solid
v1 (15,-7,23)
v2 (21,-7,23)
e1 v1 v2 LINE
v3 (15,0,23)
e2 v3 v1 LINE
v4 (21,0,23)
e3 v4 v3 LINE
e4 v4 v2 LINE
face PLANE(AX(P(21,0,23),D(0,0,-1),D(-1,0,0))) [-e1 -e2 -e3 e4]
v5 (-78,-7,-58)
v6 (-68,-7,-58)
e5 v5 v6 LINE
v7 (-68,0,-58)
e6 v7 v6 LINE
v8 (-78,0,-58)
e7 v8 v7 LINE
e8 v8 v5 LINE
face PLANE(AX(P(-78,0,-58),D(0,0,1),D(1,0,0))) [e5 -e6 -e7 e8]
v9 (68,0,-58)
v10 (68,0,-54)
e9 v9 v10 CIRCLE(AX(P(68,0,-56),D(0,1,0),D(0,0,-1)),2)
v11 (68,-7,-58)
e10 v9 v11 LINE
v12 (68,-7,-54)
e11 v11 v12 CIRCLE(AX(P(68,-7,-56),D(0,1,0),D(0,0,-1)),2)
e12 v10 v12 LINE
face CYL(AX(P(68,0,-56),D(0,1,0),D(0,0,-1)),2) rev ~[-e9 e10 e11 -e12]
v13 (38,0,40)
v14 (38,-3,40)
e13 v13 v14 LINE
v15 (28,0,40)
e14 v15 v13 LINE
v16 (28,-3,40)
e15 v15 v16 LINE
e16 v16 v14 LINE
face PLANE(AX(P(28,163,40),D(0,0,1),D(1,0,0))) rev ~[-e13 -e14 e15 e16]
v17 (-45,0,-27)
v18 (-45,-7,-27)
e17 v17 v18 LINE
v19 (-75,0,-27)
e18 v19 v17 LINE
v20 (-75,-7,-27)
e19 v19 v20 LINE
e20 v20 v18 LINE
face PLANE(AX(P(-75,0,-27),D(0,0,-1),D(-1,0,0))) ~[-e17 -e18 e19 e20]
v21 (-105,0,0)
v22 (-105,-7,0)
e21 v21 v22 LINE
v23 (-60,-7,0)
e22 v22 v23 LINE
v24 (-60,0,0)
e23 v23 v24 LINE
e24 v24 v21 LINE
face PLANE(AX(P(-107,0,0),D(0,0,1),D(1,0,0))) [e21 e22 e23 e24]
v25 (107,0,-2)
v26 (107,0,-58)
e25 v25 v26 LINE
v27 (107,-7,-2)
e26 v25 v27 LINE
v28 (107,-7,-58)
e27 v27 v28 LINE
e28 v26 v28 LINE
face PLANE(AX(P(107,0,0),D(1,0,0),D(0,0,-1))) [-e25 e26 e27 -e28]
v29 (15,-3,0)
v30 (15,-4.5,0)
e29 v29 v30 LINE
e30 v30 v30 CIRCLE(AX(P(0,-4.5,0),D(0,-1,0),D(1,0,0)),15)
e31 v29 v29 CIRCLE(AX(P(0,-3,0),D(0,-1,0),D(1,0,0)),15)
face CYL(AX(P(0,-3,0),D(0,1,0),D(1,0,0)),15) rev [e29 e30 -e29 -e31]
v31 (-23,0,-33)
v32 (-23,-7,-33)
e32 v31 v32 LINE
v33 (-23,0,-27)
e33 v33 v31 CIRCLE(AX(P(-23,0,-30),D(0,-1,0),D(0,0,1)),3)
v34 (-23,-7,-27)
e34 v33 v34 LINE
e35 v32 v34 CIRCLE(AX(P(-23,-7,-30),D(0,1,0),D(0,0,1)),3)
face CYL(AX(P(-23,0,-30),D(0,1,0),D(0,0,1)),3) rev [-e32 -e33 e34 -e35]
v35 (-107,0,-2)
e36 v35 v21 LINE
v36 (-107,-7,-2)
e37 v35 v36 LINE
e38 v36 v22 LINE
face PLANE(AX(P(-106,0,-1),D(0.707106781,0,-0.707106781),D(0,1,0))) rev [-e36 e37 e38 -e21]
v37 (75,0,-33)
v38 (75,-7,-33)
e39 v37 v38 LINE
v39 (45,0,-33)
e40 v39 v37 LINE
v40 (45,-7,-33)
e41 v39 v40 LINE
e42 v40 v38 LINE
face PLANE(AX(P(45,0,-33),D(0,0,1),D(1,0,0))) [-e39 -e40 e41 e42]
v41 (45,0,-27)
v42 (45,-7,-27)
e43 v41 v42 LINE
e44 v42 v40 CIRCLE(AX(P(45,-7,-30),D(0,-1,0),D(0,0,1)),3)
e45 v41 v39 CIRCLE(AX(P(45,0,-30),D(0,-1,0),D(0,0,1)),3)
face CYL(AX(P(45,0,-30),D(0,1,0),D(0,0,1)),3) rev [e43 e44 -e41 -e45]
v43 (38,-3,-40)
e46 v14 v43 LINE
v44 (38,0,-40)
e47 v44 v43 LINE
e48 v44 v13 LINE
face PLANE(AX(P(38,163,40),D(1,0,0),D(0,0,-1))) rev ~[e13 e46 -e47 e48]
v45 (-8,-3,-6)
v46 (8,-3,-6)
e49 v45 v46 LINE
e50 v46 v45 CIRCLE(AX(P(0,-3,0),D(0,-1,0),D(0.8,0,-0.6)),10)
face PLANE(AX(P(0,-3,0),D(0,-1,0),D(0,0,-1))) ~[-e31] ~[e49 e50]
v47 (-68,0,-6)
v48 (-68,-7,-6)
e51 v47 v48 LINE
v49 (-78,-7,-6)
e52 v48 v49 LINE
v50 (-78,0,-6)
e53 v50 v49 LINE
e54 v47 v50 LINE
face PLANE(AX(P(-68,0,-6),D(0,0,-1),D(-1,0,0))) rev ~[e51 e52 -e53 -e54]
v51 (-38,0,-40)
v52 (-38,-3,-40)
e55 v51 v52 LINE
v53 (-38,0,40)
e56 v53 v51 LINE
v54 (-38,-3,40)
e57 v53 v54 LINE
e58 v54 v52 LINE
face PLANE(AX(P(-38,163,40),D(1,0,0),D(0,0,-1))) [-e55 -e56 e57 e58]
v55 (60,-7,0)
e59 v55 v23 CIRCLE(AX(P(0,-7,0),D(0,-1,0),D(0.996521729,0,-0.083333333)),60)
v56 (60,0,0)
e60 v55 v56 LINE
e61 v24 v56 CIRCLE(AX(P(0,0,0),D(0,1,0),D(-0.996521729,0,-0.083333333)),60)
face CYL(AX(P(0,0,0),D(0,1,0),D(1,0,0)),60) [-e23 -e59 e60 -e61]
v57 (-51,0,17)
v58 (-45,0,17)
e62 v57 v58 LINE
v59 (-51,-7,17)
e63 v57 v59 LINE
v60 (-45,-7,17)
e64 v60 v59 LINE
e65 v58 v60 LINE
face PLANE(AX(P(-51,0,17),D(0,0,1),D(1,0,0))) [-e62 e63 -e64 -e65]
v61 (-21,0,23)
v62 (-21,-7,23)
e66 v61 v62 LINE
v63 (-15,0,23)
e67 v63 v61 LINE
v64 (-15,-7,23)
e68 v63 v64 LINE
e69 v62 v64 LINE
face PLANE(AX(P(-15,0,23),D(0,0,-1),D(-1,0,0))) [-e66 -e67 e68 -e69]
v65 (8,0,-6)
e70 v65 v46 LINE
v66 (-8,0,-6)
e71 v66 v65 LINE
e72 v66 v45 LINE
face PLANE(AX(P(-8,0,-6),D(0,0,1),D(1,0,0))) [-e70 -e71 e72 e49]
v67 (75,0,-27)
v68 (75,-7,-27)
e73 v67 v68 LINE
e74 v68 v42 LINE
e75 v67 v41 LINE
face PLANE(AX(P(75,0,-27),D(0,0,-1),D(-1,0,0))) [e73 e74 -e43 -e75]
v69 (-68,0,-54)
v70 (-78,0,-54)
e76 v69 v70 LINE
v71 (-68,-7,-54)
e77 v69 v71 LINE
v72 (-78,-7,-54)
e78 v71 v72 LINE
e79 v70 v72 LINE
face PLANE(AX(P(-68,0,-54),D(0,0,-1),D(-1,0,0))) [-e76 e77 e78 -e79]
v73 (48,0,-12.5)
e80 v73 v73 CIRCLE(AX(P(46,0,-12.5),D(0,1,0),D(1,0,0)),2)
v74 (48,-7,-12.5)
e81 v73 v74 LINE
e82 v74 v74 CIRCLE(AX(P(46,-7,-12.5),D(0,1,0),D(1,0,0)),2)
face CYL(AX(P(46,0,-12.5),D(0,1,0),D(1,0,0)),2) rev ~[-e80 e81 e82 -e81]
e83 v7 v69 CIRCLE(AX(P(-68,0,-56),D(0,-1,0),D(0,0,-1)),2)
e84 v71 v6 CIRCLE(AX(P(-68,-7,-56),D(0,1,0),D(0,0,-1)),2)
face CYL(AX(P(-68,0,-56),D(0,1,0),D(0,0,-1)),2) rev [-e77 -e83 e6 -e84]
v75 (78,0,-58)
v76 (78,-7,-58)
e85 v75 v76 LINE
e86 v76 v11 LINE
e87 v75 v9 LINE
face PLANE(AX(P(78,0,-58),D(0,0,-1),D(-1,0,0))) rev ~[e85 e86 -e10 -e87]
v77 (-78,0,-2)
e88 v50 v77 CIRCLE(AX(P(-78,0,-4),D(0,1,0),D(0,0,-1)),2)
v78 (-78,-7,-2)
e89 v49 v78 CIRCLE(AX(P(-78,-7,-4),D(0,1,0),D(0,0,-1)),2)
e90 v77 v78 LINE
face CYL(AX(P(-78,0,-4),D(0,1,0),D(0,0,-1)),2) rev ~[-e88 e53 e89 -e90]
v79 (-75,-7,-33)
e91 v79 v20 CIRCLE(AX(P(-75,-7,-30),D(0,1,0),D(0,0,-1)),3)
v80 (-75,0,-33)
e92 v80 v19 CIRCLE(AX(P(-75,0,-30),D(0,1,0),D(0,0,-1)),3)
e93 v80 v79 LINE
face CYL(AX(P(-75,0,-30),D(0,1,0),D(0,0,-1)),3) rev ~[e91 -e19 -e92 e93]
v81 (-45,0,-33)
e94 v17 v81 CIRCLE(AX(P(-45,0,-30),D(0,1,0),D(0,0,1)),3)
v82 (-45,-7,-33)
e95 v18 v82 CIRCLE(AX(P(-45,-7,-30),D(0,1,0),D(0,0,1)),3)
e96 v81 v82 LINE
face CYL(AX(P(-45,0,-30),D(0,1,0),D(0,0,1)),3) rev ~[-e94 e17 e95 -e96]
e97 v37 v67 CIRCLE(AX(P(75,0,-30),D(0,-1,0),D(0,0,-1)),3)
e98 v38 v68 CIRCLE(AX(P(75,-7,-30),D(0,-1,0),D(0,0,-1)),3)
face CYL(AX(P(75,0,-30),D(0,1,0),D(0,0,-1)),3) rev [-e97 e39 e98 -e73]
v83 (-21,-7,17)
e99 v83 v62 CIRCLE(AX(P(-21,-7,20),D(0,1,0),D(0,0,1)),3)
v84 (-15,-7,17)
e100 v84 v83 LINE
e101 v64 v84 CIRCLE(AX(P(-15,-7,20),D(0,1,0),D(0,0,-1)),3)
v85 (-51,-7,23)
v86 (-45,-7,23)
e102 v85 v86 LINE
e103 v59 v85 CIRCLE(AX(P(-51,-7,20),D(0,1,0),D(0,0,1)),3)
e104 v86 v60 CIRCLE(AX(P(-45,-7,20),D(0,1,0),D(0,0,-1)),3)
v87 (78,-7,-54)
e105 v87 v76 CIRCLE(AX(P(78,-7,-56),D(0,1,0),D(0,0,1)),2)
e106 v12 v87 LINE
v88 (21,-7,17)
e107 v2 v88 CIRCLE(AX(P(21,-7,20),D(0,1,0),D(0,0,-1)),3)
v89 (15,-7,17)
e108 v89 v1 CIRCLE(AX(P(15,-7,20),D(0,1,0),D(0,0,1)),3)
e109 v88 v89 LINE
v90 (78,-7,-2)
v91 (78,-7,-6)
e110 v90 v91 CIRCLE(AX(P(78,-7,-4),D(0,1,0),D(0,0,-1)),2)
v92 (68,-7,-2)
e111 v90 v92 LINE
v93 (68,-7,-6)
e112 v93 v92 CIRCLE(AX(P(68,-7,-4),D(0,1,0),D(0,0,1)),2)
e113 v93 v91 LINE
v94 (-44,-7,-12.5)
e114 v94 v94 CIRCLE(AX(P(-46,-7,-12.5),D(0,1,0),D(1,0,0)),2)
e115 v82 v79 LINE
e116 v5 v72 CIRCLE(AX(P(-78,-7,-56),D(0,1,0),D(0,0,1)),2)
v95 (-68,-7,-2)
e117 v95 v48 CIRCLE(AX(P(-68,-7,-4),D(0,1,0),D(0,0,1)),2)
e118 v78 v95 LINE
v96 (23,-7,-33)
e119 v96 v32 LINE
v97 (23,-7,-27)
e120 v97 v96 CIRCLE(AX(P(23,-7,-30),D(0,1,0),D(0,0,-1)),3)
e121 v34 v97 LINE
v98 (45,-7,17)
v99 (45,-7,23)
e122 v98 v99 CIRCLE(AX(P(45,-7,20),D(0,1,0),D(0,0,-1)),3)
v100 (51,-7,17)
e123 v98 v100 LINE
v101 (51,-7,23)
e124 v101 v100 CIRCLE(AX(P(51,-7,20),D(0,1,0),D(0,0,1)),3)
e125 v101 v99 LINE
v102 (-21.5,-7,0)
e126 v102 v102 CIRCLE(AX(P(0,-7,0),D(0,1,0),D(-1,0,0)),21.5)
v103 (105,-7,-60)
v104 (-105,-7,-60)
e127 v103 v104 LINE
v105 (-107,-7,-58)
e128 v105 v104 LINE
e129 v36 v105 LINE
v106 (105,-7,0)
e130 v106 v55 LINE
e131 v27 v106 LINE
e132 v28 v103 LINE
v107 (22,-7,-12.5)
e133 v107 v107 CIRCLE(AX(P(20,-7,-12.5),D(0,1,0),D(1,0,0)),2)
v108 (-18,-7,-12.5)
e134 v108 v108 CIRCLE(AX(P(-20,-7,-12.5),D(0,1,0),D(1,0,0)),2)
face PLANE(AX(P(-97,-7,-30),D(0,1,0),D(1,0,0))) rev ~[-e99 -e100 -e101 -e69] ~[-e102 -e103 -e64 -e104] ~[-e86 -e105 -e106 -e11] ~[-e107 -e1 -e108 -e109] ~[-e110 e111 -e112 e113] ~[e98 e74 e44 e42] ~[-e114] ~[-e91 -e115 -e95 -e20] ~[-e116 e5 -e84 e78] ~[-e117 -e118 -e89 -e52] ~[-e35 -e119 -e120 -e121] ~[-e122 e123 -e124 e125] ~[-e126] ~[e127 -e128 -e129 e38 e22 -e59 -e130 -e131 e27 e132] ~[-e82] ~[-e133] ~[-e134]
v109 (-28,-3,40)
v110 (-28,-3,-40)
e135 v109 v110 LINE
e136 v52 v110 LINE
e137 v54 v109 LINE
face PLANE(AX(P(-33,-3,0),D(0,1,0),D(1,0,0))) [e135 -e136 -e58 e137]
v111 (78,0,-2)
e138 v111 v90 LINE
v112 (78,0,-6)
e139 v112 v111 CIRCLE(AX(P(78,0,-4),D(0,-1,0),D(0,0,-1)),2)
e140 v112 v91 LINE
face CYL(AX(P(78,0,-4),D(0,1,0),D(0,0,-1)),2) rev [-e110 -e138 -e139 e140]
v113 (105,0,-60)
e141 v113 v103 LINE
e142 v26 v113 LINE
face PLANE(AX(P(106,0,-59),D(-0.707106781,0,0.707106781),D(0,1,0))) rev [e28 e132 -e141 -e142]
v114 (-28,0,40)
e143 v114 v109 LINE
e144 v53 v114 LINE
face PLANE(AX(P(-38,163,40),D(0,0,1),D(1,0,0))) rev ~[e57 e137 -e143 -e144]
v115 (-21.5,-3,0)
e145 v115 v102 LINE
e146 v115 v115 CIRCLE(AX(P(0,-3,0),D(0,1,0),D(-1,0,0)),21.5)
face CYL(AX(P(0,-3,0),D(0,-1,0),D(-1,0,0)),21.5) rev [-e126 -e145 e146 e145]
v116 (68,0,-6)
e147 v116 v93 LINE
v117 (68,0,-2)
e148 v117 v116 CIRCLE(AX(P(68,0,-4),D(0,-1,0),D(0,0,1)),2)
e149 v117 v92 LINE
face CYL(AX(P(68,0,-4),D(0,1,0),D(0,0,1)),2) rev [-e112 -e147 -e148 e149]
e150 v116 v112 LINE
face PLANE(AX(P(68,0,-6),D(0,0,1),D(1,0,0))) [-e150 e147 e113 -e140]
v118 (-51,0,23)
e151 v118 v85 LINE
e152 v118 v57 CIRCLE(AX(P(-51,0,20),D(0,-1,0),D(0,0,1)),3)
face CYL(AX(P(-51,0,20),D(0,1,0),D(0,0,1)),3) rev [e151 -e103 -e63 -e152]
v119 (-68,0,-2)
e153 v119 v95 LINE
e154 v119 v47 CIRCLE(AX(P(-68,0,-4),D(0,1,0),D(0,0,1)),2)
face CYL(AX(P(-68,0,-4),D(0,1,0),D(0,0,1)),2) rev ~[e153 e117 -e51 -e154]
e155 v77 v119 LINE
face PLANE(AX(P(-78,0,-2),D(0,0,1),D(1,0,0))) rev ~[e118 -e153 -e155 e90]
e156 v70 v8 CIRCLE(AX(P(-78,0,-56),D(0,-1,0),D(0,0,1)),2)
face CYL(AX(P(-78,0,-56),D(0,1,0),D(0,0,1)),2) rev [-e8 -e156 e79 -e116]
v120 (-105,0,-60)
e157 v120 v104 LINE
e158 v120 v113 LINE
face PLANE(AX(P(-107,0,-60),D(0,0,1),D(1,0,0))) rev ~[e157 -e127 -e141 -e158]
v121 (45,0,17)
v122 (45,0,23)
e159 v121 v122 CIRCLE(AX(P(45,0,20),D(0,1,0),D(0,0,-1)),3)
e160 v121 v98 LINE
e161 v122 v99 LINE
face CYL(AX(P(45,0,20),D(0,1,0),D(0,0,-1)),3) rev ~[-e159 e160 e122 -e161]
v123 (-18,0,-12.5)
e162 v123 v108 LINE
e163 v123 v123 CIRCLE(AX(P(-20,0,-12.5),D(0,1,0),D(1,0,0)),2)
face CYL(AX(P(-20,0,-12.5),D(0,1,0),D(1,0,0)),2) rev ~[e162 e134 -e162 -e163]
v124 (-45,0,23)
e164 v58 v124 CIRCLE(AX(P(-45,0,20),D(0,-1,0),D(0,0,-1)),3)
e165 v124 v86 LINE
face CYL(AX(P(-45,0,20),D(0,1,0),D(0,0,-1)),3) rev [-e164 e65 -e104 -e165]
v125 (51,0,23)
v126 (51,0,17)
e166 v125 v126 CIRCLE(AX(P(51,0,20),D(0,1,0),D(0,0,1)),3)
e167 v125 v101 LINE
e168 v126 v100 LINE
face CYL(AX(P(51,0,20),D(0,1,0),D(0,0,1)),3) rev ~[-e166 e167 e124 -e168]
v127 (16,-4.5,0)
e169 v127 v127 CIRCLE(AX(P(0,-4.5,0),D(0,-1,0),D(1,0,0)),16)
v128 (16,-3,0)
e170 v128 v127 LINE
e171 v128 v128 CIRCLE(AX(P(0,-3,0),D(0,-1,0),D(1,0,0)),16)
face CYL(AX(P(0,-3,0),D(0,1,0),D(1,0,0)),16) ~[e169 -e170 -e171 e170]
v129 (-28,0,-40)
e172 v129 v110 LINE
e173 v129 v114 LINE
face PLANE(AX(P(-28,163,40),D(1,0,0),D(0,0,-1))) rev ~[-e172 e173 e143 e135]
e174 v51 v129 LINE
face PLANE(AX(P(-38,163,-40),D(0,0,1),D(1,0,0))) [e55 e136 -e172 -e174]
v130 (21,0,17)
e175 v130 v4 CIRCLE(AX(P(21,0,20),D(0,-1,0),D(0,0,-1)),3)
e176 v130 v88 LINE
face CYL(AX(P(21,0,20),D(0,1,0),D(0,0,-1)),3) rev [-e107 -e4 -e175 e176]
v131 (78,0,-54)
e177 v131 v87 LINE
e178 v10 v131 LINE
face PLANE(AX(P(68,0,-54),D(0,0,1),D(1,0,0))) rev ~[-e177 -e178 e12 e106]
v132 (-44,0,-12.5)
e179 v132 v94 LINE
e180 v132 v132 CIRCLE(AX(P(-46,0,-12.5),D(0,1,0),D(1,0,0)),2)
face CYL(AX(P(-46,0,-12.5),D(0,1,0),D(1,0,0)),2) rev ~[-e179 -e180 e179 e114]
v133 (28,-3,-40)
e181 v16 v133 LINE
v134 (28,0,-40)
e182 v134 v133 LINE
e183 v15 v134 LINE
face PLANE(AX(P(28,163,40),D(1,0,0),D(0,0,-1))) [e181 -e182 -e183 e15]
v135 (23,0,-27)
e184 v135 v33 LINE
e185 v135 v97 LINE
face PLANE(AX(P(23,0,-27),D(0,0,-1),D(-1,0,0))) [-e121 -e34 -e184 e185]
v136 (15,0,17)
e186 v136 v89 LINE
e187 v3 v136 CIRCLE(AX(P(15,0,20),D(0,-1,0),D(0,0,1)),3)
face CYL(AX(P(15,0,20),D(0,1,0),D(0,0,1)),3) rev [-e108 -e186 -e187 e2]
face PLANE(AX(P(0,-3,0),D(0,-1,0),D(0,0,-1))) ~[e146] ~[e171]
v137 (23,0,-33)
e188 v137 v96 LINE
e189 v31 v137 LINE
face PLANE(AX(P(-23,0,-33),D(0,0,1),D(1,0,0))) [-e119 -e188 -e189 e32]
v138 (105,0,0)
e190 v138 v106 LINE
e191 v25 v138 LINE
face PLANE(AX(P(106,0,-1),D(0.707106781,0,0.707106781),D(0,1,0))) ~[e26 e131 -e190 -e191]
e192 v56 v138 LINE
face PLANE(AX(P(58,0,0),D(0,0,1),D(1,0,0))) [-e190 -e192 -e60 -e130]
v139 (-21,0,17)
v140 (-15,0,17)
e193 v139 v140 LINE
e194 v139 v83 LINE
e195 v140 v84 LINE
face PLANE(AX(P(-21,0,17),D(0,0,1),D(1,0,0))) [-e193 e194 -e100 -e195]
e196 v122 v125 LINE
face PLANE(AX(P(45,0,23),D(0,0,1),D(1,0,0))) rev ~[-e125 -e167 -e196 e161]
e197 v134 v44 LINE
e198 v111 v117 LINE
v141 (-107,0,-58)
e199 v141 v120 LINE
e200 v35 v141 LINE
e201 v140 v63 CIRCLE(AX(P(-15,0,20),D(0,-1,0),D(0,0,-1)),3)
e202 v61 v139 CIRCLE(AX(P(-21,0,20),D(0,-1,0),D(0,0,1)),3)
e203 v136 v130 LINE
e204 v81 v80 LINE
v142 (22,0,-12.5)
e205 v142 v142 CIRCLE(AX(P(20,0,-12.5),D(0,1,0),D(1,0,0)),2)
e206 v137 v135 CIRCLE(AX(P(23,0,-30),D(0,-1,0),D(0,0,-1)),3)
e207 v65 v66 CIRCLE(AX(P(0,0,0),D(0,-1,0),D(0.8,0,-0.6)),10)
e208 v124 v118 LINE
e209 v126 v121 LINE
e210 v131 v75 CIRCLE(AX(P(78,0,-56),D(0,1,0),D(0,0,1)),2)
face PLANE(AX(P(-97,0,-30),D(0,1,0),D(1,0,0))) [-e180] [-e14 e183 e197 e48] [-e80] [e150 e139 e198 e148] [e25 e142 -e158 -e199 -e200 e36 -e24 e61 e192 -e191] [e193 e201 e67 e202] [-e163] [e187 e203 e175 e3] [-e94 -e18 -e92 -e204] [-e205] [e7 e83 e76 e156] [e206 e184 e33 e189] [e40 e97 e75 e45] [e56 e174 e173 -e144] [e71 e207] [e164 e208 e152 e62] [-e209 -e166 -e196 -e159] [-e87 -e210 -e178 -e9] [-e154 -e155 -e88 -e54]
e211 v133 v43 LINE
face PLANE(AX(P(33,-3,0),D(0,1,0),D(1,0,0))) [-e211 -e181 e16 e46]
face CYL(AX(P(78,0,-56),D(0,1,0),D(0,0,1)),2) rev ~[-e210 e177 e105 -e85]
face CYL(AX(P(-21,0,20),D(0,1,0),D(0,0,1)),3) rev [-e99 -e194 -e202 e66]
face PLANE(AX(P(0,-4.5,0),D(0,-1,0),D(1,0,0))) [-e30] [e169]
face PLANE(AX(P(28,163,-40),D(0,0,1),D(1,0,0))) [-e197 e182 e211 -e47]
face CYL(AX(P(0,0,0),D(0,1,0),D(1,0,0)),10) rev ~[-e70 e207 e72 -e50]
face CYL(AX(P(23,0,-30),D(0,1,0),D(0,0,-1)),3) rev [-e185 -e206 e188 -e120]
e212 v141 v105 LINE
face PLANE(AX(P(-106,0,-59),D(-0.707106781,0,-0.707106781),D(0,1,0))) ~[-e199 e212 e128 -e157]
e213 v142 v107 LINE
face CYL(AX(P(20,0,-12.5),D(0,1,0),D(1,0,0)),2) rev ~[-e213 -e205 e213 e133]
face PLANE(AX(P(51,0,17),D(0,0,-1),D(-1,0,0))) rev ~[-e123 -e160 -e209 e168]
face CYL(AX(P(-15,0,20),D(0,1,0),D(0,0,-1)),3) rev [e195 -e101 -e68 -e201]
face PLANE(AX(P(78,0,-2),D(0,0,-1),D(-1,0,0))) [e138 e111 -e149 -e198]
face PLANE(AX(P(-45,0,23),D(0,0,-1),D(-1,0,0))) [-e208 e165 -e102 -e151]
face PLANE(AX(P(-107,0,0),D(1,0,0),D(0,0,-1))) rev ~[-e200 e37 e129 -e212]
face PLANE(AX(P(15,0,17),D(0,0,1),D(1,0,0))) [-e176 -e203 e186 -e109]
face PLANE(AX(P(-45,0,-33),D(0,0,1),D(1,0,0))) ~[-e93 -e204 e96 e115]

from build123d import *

# Parameters (mm, degrees)
SKETCH1_R           = 60
BOSS_EXTRUDE1_DEPTH = 7
SKETCH2_W           = 10
SKETCH2_H           = 80
BOSS_EXTRUDE2_DEPTH = 163
SKETCH8_W           = 180
SKETCH8_H           = 50
BOSS_EXTRUDE5_DEPTH = 7
CHAMFER1_SIZE       = 2
CUT_EXTRUDE3_DEPTH  = 7
CUT_EXTRUDE4_REACH  = 9
SKETCH10_R          = 10
BOSS_EXTRUDE6_DEPTH = 3
SKETCH15_W          = 10
SKETCH15_H          = 80
CUT_EXTRUDE5_DEPTH  = 166
CUT_EXTRUDE6_REACH  = 9
CUT_EXTRUDE8_REACH  = 9
CUT_EXTRUDE9_REACH  = 9
SKETCH18_R          = 2
SKETCH19_W          = 180
SKETCH19_H          = 10
SKETCH19_W_2        = 32
SKETCH19_H_2        = 7
BOSS_EXTRUDE7_DEPTH = 7
CUT_EXTRUDE10_DEPTH = 10
CHAMFER2_SIZE       = 3
SKETCH21_W          = 15
SKETCH21_H          = 0.5
SKETCH22_R          = 16
SKETCH22_R_2        = 15
BOSS_EXTRUDE8_DEPTH = 1.5
SKETCH23_W          = 20
SKETCH23_H          = 60
BOSS_EXTRUDE9_DEPTH = 7
CHAMFER3_SIZE       = 2


with BuildPart() as part:
    # Sketch1 → Boss-Extrude1 (new body)
    with BuildSketch(Plane(origin=(0, 0, 0), x_dir=(1, 0, 0), z_dir=(0, 1, 0))):
        Circle(SKETCH1_R)
    extrude(amount=-BOSS_EXTRUDE1_DEPTH)

    # Sketch2 → Boss-Extrude2 (add)
    with BuildSketch(Plane(origin=(0, 0, 0), x_dir=(1, 0, 0), z_dir=(0, 1, 0))):
        with Locations((-33, 0)):
            Rectangle(SKETCH2_W, SKETCH2_H)
        with Locations((33, 0)):
            Rectangle(SKETCH2_W, SKETCH2_H)
    extrude(amount=BOSS_EXTRUDE2_DEPTH)

    # Sketch8 → Boss-Extrude5 (add)
    with BuildSketch(Plane(origin=(0, 0, 0), x_dir=(1, 0, 0), z_dir=(0, 1, 0))):
        with Locations((0, 30)):
            Rectangle(SKETCH8_W, SKETCH8_H)
    extrude(amount=-BOSS_EXTRUDE5_DEPTH)

    # Chamfer1
    chamfer1_edges = [part.edges().sort_by_distance(p)[0] for p in [
        (90, -3.5, -5),
        (-90, -3.5, -55),
        (90, -3.5, -55),
        (-90, -3.5, -5),
    ]]
    chamfer(chamfer1_edges, length=CHAMFER1_SIZE)

    # Sketch9 → Cut-Extrude3 (cut)
    with BuildSketch(Plane(origin=(0, 0, 0), x_dir=(1, 0, 0), z_dir=(0, 1, 0))):
        with BuildLine():
            Line((45, 33), (75, 33))
            ThreePointArc((75, 33), (78, 30), (75, 27))
            Line((75, 27), (45, 27))
            ThreePointArc((45, 27), (42, 30), (45, 33))
        make_face()
    cut_extrude3 = extrude(amount=-CUT_EXTRUDE3_DEPTH, mode=Mode.SUBTRACT)

    # Mirror4: Cut-Extrude3 across plane
    add(cut_extrude3.mirror(Plane(origin=(0, 0, 0), x_dir=(0, 0, 1), z_dir=(1, 0, 0))), mode=Mode.SUBTRACT)

    # Sketch10 → Cut-Extrude4 (cut, up to next)
    with BuildSketch(Plane(origin=(0, 0, 0), x_dir=(1, 0, 0), z_dir=(0, 1, 0)), mode=Mode.PRIVATE) as cut_extrude4_sk1:
        Circle(SKETCH10_R)
    cut_extrude4_tool1 = extrude(cut_extrude4_sk1.sketch, amount=-CUT_EXTRUDE4_REACH, mode=Mode.PRIVATE) & part.part
    add(cut_extrude4_tool1.solids().sort_by_distance((0, 0, 0))[0], mode=Mode.SUBTRACT)

    # Sketch12 → Cut-Revolve1 (revolve, cut)
    with BuildSketch(Plane.XY):
        Polygon((0, -7), (0, -3.5), (-14.5, -3.5), (-14.5, -3), (-21.5, -3), (-21.5, -3.5), (-21.5, -7), align=None)
    revolve(axis=Axis((0, -7, 0), (0, 1, 0)), mode=Mode.SUBTRACT)

    # Sketch14 → Boss-Extrude6 (add)
    with BuildSketch(Plane(origin=(0, 0, 0), x_dir=(1, 0, 0), z_dir=(0, 1, 0))):
        with BuildLine():
            ThreePointArc((8, 6), (0, 10), (-8, 6))
            Line((-8, 6), (8, 6))
        make_face()
    extrude(amount=-BOSS_EXTRUDE6_DEPTH)

    # Sketch15 → Cut-Extrude5 (cut)
    with BuildSketch(Plane(origin=(0, 163, 0), x_dir=(1, 0, 0), z_dir=(0, 1, 0))):
        with Locations((33, 0)):
            Rectangle(SKETCH15_W, SKETCH15_H)
        with Locations((-33, 0)):
            Rectangle(SKETCH15_W, SKETCH15_H)
    extrude(amount=-CUT_EXTRUDE5_DEPTH, mode=Mode.SUBTRACT)

    # Sketch16 → Cut-Extrude6 (cut, up to next)
    with BuildSketch(Plane(origin=(0, 0, 0), x_dir=(1, 0, 0), z_dir=(0, 1, 0)), mode=Mode.PRIVATE) as cut_extrude6_sk1:
        with BuildLine():
            Line((-51, -17), (-45, -17))
            ThreePointArc((-45, -17), (-42, -20), (-45, -23))
            Line((-45, -23), (-51, -23))
            ThreePointArc((-51, -23), (-54, -20), (-51, -17))
        make_face()
    cut_extrude6_tool1 = extrude(cut_extrude6_sk1.sketch, amount=-CUT_EXTRUDE6_REACH, mode=Mode.PRIVATE) & part.part
    add(cut_extrude6_tool1.solids().sort_by_distance((-48, 0, 20))[0], mode=Mode.SUBTRACT)
    # Sketch16 → Cut-Extrude6 (cut, up to next)
    with BuildSketch(Plane(origin=(0, 0, 0), x_dir=(1, 0, 0), z_dir=(0, 1, 0)), mode=Mode.PRIVATE) as cut_extrude6_sk2:
        with BuildLine():
            Line((51, -17), (45, -17))
            ThreePointArc((45, -17), (42, -20), (45, -23))
            Line((45, -23), (51, -23))
            ThreePointArc((51, -23), (54, -20), (51, -17))
        make_face()
    cut_extrude6_tool2 = extrude(cut_extrude6_sk2.sketch, amount=-CUT_EXTRUDE6_REACH, mode=Mode.PRIVATE) & part.part
    add(cut_extrude6_tool2.solids().sort_by_distance((48, 0, 20))[0], mode=Mode.SUBTRACT)

    # Sketch17 → Cut-Extrude8 (cut, up to next)
    with BuildSketch(Plane(origin=(0, 0, 0), x_dir=(1, 0, 0), z_dir=(0, 1, 0)), mode=Mode.PRIVATE) as cut_extrude8_sk1:
        with BuildLine():
            Line((-23, 33), (23, 33))
            ThreePointArc((23, 33), (26, 30), (23, 27))
            Line((23, 27), (-23, 27))
            ThreePointArc((-23, 27), (-26, 30), (-23, 33))
        make_face()
    cut_extrude8_tool1 = extrude(cut_extrude8_sk1.sketch, amount=-CUT_EXTRUDE8_REACH, mode=Mode.PRIVATE) & part.part
    add(cut_extrude8_tool1.solids().sort_by_distance((0, 0, -30))[0], mode=Mode.SUBTRACT)
    # Sketch17 → Cut-Extrude8 (cut, up to next)
    with BuildSketch(Plane(origin=(0, 0, 0), x_dir=(1, 0, 0), z_dir=(0, 1, 0)), mode=Mode.PRIVATE) as cut_extrude8_sk2:
        with BuildLine():
            Line((-15, -23), (-21, -23))
            ThreePointArc((-21, -23), (-24, -20), (-21, -17))
            Line((-21, -17), (-15, -17))
            ThreePointArc((-15, -17), (-12, -20), (-15, -23))
        make_face()
    cut_extrude8_tool2 = extrude(cut_extrude8_sk2.sketch, amount=-CUT_EXTRUDE8_REACH, mode=Mode.PRIVATE) & part.part
    add(cut_extrude8_tool2.solids().sort_by_distance((-18, 0, 20))[0], mode=Mode.SUBTRACT)
    # Sketch17 → Cut-Extrude8 (cut, up to next)
    with BuildSketch(Plane(origin=(0, 0, 0), x_dir=(1, 0, 0), z_dir=(0, 1, 0)), mode=Mode.PRIVATE) as cut_extrude8_sk3:
        with BuildLine():
            Line((15, -17), (21, -17))
            ThreePointArc((21, -17), (24, -20), (21, -23))
            Line((21, -23), (15, -23))
            ThreePointArc((15, -23), (12, -20), (15, -17))
        make_face()
    cut_extrude8_tool3 = extrude(cut_extrude8_sk3.sketch, amount=-CUT_EXTRUDE8_REACH, mode=Mode.PRIVATE) & part.part
    add(cut_extrude8_tool3.solids().sort_by_distance((18, 0, 20))[0], mode=Mode.SUBTRACT)

    # Sketch18 → Cut-Extrude9 (cut, up to next)
    with BuildSketch(Plane(origin=(0, 0, 0), x_dir=(1, 0, 0), z_dir=(0, 1, 0)), mode=Mode.PRIVATE) as cut_extrude9_sk1:
        with Locations((-46, 12.5)):
            Circle(SKETCH18_R)
    cut_extrude9_tool1 = extrude(cut_extrude9_sk1.sketch, amount=-CUT_EXTRUDE9_REACH, mode=Mode.PRIVATE) & part.part
    add(cut_extrude9_tool1.solids().sort_by_distance((-46, 0, -12.5))[0], mode=Mode.SUBTRACT)
    # Sketch18 → Cut-Extrude9 (cut, up to next)
    with BuildSketch(Plane(origin=(0, 0, 0), x_dir=(1, 0, 0), z_dir=(0, 1, 0)), mode=Mode.PRIVATE) as cut_extrude9_sk2:
        with Locations((-20, 12.5)):
            Circle(SKETCH18_R)
    cut_extrude9_tool2 = extrude(cut_extrude9_sk2.sketch, amount=-CUT_EXTRUDE9_REACH, mode=Mode.PRIVATE) & part.part
    add(cut_extrude9_tool2.solids().sort_by_distance((-20, 0, -12.5))[0], mode=Mode.SUBTRACT)
    # Sketch18 → Cut-Extrude9 (cut, up to next)
    with BuildSketch(Plane(origin=(0, 0, 0), x_dir=(1, 0, 0), z_dir=(0, 1, 0)), mode=Mode.PRIVATE) as cut_extrude9_sk3:
        with Locations((20, 12.5)):
            Circle(SKETCH18_R)
    cut_extrude9_tool3 = extrude(cut_extrude9_sk3.sketch, amount=-CUT_EXTRUDE9_REACH, mode=Mode.PRIVATE) & part.part
    add(cut_extrude9_tool3.solids().sort_by_distance((20, 0, -12.5))[0], mode=Mode.SUBTRACT)
    # Sketch18 → Cut-Extrude9 (cut, up to next)
    with BuildSketch(Plane(origin=(0, 0, 0), x_dir=(1, 0, 0), z_dir=(0, 1, 0)), mode=Mode.PRIVATE) as cut_extrude9_sk4:
        with Locations((46, 12.5)):
            Circle(SKETCH18_R)
    cut_extrude9_tool4 = extrude(cut_extrude9_sk4.sketch, amount=-CUT_EXTRUDE9_REACH, mode=Mode.PRIVATE) & part.part
    add(cut_extrude9_tool4.solids().sort_by_distance((46, 0, -12.5))[0], mode=Mode.SUBTRACT)

    # Sketch19 → Boss-Extrude7 (add)
    with BuildSketch(Plane(origin=(0, 0, 0), x_dir=(1, 0, 0), z_dir=(0, 1, 0))):
        with Locations((0, 55)):
            Rectangle(SKETCH19_W, SKETCH19_H)
        with Locations((74, 3.5)):
            Rectangle(SKETCH19_W_2, SKETCH19_H_2)
        with Locations((-74, 3.5)):
            Rectangle(SKETCH19_W_2, SKETCH19_H_2)
    extrude(amount=-BOSS_EXTRUDE7_DEPTH)

    # Sketch20 → Cut-Extrude10 (cut)
    with BuildSketch(Plane(origin=(0, 0, 0), x_dir=(1, 0, 0), z_dir=(0, 1, 0))):
        with BuildLine():
            ThreePointArc((68, 2), (66, 4), (68, 6))
            Line((68, 6), (78, 6))
            ThreePointArc((78, 6), (80, 4), (78, 2))
            Line((78, 2), (68, 2))
        make_face()
        with BuildLine():
            Line((78, 58), (68, 58))
            ThreePointArc((68, 58), (66, 56), (68, 54))
            Line((68, 54), (78, 54))
            ThreePointArc((78, 54), (80, 56), (78, 58))
        make_face()
        with BuildLine():
            ThreePointArc((-68, 58), (-66, 56), (-68, 54))
            Line((-68, 54), (-78, 54))
            ThreePointArc((-78, 54), (-80, 56), (-78, 58))
            Line((-78, 58), (-68, 58))
        make_face()
        with BuildLine():
            Line((-78, 2), (-68, 2))
            ThreePointArc((-68, 2), (-66, 4), (-68, 6))
            Line((-68, 6), (-78, 6))
            ThreePointArc((-78, 6), (-80, 4), (-78, 2))
        make_face()
    extrude(amount=-CUT_EXTRUDE10_DEPTH, mode=Mode.SUBTRACT)

    # Chamfer2
    chamfer2_edges = [part.edges().sort_by_distance(p)[0] for p in [
        (-90, -3.5, -60),
        (90, -3.5, -60),
        (90, -3.5, 0),
        (-90, -3.5, 0),
    ]]
    chamfer(chamfer2_edges, length=CHAMFER2_SIZE)

    # Sketch21 → Cut-Revolve2 (revolve, cut)
    with BuildSketch(Plane(origin=(0, 0, 0), x_dir=(0, 0, -1), z_dir=(1, 0, 0))):
        with Locations((7.5, -3.25)):
            Rectangle(SKETCH21_W, SKETCH21_H)
    revolve(axis=Axis((0, 0, 0), (0, -1, 0)), mode=Mode.SUBTRACT)

    # Sketch22 → Boss-Extrude8 (add)
    with BuildSketch(Plane.XZ.offset(3)):
        Circle(SKETCH22_R)
        Circle(SKETCH22_R_2, mode=Mode.SUBTRACT)
    extrude(amount=BOSS_EXTRUDE8_DEPTH)

    # Sketch23 → Boss-Extrude9 (add)
    with BuildSketch(Plane(origin=(0, 0, 0), x_dir=(1, 0, 0), z_dir=(0, 1, 0))):
        with Locations((-97, 30)):
            Rectangle(SKETCH23_W, SKETCH23_H)
        with Locations((97, 30)):
            Rectangle(SKETCH23_W, SKETCH23_H)
    extrude(amount=-BOSS_EXTRUDE9_DEPTH)

    # Chamfer3
    chamfer3_edges = [part.edges().sort_by_distance(p)[0] for p in [
        (-107, -3.5, 0),
        (-107, -3.5, -60),
        (107, -3.5, -60),
        (107, -3.5, 0),
    ]]
    chamfer(chamfer3_edges, length=CHAMFER3_SIZE)


solid = part.part
